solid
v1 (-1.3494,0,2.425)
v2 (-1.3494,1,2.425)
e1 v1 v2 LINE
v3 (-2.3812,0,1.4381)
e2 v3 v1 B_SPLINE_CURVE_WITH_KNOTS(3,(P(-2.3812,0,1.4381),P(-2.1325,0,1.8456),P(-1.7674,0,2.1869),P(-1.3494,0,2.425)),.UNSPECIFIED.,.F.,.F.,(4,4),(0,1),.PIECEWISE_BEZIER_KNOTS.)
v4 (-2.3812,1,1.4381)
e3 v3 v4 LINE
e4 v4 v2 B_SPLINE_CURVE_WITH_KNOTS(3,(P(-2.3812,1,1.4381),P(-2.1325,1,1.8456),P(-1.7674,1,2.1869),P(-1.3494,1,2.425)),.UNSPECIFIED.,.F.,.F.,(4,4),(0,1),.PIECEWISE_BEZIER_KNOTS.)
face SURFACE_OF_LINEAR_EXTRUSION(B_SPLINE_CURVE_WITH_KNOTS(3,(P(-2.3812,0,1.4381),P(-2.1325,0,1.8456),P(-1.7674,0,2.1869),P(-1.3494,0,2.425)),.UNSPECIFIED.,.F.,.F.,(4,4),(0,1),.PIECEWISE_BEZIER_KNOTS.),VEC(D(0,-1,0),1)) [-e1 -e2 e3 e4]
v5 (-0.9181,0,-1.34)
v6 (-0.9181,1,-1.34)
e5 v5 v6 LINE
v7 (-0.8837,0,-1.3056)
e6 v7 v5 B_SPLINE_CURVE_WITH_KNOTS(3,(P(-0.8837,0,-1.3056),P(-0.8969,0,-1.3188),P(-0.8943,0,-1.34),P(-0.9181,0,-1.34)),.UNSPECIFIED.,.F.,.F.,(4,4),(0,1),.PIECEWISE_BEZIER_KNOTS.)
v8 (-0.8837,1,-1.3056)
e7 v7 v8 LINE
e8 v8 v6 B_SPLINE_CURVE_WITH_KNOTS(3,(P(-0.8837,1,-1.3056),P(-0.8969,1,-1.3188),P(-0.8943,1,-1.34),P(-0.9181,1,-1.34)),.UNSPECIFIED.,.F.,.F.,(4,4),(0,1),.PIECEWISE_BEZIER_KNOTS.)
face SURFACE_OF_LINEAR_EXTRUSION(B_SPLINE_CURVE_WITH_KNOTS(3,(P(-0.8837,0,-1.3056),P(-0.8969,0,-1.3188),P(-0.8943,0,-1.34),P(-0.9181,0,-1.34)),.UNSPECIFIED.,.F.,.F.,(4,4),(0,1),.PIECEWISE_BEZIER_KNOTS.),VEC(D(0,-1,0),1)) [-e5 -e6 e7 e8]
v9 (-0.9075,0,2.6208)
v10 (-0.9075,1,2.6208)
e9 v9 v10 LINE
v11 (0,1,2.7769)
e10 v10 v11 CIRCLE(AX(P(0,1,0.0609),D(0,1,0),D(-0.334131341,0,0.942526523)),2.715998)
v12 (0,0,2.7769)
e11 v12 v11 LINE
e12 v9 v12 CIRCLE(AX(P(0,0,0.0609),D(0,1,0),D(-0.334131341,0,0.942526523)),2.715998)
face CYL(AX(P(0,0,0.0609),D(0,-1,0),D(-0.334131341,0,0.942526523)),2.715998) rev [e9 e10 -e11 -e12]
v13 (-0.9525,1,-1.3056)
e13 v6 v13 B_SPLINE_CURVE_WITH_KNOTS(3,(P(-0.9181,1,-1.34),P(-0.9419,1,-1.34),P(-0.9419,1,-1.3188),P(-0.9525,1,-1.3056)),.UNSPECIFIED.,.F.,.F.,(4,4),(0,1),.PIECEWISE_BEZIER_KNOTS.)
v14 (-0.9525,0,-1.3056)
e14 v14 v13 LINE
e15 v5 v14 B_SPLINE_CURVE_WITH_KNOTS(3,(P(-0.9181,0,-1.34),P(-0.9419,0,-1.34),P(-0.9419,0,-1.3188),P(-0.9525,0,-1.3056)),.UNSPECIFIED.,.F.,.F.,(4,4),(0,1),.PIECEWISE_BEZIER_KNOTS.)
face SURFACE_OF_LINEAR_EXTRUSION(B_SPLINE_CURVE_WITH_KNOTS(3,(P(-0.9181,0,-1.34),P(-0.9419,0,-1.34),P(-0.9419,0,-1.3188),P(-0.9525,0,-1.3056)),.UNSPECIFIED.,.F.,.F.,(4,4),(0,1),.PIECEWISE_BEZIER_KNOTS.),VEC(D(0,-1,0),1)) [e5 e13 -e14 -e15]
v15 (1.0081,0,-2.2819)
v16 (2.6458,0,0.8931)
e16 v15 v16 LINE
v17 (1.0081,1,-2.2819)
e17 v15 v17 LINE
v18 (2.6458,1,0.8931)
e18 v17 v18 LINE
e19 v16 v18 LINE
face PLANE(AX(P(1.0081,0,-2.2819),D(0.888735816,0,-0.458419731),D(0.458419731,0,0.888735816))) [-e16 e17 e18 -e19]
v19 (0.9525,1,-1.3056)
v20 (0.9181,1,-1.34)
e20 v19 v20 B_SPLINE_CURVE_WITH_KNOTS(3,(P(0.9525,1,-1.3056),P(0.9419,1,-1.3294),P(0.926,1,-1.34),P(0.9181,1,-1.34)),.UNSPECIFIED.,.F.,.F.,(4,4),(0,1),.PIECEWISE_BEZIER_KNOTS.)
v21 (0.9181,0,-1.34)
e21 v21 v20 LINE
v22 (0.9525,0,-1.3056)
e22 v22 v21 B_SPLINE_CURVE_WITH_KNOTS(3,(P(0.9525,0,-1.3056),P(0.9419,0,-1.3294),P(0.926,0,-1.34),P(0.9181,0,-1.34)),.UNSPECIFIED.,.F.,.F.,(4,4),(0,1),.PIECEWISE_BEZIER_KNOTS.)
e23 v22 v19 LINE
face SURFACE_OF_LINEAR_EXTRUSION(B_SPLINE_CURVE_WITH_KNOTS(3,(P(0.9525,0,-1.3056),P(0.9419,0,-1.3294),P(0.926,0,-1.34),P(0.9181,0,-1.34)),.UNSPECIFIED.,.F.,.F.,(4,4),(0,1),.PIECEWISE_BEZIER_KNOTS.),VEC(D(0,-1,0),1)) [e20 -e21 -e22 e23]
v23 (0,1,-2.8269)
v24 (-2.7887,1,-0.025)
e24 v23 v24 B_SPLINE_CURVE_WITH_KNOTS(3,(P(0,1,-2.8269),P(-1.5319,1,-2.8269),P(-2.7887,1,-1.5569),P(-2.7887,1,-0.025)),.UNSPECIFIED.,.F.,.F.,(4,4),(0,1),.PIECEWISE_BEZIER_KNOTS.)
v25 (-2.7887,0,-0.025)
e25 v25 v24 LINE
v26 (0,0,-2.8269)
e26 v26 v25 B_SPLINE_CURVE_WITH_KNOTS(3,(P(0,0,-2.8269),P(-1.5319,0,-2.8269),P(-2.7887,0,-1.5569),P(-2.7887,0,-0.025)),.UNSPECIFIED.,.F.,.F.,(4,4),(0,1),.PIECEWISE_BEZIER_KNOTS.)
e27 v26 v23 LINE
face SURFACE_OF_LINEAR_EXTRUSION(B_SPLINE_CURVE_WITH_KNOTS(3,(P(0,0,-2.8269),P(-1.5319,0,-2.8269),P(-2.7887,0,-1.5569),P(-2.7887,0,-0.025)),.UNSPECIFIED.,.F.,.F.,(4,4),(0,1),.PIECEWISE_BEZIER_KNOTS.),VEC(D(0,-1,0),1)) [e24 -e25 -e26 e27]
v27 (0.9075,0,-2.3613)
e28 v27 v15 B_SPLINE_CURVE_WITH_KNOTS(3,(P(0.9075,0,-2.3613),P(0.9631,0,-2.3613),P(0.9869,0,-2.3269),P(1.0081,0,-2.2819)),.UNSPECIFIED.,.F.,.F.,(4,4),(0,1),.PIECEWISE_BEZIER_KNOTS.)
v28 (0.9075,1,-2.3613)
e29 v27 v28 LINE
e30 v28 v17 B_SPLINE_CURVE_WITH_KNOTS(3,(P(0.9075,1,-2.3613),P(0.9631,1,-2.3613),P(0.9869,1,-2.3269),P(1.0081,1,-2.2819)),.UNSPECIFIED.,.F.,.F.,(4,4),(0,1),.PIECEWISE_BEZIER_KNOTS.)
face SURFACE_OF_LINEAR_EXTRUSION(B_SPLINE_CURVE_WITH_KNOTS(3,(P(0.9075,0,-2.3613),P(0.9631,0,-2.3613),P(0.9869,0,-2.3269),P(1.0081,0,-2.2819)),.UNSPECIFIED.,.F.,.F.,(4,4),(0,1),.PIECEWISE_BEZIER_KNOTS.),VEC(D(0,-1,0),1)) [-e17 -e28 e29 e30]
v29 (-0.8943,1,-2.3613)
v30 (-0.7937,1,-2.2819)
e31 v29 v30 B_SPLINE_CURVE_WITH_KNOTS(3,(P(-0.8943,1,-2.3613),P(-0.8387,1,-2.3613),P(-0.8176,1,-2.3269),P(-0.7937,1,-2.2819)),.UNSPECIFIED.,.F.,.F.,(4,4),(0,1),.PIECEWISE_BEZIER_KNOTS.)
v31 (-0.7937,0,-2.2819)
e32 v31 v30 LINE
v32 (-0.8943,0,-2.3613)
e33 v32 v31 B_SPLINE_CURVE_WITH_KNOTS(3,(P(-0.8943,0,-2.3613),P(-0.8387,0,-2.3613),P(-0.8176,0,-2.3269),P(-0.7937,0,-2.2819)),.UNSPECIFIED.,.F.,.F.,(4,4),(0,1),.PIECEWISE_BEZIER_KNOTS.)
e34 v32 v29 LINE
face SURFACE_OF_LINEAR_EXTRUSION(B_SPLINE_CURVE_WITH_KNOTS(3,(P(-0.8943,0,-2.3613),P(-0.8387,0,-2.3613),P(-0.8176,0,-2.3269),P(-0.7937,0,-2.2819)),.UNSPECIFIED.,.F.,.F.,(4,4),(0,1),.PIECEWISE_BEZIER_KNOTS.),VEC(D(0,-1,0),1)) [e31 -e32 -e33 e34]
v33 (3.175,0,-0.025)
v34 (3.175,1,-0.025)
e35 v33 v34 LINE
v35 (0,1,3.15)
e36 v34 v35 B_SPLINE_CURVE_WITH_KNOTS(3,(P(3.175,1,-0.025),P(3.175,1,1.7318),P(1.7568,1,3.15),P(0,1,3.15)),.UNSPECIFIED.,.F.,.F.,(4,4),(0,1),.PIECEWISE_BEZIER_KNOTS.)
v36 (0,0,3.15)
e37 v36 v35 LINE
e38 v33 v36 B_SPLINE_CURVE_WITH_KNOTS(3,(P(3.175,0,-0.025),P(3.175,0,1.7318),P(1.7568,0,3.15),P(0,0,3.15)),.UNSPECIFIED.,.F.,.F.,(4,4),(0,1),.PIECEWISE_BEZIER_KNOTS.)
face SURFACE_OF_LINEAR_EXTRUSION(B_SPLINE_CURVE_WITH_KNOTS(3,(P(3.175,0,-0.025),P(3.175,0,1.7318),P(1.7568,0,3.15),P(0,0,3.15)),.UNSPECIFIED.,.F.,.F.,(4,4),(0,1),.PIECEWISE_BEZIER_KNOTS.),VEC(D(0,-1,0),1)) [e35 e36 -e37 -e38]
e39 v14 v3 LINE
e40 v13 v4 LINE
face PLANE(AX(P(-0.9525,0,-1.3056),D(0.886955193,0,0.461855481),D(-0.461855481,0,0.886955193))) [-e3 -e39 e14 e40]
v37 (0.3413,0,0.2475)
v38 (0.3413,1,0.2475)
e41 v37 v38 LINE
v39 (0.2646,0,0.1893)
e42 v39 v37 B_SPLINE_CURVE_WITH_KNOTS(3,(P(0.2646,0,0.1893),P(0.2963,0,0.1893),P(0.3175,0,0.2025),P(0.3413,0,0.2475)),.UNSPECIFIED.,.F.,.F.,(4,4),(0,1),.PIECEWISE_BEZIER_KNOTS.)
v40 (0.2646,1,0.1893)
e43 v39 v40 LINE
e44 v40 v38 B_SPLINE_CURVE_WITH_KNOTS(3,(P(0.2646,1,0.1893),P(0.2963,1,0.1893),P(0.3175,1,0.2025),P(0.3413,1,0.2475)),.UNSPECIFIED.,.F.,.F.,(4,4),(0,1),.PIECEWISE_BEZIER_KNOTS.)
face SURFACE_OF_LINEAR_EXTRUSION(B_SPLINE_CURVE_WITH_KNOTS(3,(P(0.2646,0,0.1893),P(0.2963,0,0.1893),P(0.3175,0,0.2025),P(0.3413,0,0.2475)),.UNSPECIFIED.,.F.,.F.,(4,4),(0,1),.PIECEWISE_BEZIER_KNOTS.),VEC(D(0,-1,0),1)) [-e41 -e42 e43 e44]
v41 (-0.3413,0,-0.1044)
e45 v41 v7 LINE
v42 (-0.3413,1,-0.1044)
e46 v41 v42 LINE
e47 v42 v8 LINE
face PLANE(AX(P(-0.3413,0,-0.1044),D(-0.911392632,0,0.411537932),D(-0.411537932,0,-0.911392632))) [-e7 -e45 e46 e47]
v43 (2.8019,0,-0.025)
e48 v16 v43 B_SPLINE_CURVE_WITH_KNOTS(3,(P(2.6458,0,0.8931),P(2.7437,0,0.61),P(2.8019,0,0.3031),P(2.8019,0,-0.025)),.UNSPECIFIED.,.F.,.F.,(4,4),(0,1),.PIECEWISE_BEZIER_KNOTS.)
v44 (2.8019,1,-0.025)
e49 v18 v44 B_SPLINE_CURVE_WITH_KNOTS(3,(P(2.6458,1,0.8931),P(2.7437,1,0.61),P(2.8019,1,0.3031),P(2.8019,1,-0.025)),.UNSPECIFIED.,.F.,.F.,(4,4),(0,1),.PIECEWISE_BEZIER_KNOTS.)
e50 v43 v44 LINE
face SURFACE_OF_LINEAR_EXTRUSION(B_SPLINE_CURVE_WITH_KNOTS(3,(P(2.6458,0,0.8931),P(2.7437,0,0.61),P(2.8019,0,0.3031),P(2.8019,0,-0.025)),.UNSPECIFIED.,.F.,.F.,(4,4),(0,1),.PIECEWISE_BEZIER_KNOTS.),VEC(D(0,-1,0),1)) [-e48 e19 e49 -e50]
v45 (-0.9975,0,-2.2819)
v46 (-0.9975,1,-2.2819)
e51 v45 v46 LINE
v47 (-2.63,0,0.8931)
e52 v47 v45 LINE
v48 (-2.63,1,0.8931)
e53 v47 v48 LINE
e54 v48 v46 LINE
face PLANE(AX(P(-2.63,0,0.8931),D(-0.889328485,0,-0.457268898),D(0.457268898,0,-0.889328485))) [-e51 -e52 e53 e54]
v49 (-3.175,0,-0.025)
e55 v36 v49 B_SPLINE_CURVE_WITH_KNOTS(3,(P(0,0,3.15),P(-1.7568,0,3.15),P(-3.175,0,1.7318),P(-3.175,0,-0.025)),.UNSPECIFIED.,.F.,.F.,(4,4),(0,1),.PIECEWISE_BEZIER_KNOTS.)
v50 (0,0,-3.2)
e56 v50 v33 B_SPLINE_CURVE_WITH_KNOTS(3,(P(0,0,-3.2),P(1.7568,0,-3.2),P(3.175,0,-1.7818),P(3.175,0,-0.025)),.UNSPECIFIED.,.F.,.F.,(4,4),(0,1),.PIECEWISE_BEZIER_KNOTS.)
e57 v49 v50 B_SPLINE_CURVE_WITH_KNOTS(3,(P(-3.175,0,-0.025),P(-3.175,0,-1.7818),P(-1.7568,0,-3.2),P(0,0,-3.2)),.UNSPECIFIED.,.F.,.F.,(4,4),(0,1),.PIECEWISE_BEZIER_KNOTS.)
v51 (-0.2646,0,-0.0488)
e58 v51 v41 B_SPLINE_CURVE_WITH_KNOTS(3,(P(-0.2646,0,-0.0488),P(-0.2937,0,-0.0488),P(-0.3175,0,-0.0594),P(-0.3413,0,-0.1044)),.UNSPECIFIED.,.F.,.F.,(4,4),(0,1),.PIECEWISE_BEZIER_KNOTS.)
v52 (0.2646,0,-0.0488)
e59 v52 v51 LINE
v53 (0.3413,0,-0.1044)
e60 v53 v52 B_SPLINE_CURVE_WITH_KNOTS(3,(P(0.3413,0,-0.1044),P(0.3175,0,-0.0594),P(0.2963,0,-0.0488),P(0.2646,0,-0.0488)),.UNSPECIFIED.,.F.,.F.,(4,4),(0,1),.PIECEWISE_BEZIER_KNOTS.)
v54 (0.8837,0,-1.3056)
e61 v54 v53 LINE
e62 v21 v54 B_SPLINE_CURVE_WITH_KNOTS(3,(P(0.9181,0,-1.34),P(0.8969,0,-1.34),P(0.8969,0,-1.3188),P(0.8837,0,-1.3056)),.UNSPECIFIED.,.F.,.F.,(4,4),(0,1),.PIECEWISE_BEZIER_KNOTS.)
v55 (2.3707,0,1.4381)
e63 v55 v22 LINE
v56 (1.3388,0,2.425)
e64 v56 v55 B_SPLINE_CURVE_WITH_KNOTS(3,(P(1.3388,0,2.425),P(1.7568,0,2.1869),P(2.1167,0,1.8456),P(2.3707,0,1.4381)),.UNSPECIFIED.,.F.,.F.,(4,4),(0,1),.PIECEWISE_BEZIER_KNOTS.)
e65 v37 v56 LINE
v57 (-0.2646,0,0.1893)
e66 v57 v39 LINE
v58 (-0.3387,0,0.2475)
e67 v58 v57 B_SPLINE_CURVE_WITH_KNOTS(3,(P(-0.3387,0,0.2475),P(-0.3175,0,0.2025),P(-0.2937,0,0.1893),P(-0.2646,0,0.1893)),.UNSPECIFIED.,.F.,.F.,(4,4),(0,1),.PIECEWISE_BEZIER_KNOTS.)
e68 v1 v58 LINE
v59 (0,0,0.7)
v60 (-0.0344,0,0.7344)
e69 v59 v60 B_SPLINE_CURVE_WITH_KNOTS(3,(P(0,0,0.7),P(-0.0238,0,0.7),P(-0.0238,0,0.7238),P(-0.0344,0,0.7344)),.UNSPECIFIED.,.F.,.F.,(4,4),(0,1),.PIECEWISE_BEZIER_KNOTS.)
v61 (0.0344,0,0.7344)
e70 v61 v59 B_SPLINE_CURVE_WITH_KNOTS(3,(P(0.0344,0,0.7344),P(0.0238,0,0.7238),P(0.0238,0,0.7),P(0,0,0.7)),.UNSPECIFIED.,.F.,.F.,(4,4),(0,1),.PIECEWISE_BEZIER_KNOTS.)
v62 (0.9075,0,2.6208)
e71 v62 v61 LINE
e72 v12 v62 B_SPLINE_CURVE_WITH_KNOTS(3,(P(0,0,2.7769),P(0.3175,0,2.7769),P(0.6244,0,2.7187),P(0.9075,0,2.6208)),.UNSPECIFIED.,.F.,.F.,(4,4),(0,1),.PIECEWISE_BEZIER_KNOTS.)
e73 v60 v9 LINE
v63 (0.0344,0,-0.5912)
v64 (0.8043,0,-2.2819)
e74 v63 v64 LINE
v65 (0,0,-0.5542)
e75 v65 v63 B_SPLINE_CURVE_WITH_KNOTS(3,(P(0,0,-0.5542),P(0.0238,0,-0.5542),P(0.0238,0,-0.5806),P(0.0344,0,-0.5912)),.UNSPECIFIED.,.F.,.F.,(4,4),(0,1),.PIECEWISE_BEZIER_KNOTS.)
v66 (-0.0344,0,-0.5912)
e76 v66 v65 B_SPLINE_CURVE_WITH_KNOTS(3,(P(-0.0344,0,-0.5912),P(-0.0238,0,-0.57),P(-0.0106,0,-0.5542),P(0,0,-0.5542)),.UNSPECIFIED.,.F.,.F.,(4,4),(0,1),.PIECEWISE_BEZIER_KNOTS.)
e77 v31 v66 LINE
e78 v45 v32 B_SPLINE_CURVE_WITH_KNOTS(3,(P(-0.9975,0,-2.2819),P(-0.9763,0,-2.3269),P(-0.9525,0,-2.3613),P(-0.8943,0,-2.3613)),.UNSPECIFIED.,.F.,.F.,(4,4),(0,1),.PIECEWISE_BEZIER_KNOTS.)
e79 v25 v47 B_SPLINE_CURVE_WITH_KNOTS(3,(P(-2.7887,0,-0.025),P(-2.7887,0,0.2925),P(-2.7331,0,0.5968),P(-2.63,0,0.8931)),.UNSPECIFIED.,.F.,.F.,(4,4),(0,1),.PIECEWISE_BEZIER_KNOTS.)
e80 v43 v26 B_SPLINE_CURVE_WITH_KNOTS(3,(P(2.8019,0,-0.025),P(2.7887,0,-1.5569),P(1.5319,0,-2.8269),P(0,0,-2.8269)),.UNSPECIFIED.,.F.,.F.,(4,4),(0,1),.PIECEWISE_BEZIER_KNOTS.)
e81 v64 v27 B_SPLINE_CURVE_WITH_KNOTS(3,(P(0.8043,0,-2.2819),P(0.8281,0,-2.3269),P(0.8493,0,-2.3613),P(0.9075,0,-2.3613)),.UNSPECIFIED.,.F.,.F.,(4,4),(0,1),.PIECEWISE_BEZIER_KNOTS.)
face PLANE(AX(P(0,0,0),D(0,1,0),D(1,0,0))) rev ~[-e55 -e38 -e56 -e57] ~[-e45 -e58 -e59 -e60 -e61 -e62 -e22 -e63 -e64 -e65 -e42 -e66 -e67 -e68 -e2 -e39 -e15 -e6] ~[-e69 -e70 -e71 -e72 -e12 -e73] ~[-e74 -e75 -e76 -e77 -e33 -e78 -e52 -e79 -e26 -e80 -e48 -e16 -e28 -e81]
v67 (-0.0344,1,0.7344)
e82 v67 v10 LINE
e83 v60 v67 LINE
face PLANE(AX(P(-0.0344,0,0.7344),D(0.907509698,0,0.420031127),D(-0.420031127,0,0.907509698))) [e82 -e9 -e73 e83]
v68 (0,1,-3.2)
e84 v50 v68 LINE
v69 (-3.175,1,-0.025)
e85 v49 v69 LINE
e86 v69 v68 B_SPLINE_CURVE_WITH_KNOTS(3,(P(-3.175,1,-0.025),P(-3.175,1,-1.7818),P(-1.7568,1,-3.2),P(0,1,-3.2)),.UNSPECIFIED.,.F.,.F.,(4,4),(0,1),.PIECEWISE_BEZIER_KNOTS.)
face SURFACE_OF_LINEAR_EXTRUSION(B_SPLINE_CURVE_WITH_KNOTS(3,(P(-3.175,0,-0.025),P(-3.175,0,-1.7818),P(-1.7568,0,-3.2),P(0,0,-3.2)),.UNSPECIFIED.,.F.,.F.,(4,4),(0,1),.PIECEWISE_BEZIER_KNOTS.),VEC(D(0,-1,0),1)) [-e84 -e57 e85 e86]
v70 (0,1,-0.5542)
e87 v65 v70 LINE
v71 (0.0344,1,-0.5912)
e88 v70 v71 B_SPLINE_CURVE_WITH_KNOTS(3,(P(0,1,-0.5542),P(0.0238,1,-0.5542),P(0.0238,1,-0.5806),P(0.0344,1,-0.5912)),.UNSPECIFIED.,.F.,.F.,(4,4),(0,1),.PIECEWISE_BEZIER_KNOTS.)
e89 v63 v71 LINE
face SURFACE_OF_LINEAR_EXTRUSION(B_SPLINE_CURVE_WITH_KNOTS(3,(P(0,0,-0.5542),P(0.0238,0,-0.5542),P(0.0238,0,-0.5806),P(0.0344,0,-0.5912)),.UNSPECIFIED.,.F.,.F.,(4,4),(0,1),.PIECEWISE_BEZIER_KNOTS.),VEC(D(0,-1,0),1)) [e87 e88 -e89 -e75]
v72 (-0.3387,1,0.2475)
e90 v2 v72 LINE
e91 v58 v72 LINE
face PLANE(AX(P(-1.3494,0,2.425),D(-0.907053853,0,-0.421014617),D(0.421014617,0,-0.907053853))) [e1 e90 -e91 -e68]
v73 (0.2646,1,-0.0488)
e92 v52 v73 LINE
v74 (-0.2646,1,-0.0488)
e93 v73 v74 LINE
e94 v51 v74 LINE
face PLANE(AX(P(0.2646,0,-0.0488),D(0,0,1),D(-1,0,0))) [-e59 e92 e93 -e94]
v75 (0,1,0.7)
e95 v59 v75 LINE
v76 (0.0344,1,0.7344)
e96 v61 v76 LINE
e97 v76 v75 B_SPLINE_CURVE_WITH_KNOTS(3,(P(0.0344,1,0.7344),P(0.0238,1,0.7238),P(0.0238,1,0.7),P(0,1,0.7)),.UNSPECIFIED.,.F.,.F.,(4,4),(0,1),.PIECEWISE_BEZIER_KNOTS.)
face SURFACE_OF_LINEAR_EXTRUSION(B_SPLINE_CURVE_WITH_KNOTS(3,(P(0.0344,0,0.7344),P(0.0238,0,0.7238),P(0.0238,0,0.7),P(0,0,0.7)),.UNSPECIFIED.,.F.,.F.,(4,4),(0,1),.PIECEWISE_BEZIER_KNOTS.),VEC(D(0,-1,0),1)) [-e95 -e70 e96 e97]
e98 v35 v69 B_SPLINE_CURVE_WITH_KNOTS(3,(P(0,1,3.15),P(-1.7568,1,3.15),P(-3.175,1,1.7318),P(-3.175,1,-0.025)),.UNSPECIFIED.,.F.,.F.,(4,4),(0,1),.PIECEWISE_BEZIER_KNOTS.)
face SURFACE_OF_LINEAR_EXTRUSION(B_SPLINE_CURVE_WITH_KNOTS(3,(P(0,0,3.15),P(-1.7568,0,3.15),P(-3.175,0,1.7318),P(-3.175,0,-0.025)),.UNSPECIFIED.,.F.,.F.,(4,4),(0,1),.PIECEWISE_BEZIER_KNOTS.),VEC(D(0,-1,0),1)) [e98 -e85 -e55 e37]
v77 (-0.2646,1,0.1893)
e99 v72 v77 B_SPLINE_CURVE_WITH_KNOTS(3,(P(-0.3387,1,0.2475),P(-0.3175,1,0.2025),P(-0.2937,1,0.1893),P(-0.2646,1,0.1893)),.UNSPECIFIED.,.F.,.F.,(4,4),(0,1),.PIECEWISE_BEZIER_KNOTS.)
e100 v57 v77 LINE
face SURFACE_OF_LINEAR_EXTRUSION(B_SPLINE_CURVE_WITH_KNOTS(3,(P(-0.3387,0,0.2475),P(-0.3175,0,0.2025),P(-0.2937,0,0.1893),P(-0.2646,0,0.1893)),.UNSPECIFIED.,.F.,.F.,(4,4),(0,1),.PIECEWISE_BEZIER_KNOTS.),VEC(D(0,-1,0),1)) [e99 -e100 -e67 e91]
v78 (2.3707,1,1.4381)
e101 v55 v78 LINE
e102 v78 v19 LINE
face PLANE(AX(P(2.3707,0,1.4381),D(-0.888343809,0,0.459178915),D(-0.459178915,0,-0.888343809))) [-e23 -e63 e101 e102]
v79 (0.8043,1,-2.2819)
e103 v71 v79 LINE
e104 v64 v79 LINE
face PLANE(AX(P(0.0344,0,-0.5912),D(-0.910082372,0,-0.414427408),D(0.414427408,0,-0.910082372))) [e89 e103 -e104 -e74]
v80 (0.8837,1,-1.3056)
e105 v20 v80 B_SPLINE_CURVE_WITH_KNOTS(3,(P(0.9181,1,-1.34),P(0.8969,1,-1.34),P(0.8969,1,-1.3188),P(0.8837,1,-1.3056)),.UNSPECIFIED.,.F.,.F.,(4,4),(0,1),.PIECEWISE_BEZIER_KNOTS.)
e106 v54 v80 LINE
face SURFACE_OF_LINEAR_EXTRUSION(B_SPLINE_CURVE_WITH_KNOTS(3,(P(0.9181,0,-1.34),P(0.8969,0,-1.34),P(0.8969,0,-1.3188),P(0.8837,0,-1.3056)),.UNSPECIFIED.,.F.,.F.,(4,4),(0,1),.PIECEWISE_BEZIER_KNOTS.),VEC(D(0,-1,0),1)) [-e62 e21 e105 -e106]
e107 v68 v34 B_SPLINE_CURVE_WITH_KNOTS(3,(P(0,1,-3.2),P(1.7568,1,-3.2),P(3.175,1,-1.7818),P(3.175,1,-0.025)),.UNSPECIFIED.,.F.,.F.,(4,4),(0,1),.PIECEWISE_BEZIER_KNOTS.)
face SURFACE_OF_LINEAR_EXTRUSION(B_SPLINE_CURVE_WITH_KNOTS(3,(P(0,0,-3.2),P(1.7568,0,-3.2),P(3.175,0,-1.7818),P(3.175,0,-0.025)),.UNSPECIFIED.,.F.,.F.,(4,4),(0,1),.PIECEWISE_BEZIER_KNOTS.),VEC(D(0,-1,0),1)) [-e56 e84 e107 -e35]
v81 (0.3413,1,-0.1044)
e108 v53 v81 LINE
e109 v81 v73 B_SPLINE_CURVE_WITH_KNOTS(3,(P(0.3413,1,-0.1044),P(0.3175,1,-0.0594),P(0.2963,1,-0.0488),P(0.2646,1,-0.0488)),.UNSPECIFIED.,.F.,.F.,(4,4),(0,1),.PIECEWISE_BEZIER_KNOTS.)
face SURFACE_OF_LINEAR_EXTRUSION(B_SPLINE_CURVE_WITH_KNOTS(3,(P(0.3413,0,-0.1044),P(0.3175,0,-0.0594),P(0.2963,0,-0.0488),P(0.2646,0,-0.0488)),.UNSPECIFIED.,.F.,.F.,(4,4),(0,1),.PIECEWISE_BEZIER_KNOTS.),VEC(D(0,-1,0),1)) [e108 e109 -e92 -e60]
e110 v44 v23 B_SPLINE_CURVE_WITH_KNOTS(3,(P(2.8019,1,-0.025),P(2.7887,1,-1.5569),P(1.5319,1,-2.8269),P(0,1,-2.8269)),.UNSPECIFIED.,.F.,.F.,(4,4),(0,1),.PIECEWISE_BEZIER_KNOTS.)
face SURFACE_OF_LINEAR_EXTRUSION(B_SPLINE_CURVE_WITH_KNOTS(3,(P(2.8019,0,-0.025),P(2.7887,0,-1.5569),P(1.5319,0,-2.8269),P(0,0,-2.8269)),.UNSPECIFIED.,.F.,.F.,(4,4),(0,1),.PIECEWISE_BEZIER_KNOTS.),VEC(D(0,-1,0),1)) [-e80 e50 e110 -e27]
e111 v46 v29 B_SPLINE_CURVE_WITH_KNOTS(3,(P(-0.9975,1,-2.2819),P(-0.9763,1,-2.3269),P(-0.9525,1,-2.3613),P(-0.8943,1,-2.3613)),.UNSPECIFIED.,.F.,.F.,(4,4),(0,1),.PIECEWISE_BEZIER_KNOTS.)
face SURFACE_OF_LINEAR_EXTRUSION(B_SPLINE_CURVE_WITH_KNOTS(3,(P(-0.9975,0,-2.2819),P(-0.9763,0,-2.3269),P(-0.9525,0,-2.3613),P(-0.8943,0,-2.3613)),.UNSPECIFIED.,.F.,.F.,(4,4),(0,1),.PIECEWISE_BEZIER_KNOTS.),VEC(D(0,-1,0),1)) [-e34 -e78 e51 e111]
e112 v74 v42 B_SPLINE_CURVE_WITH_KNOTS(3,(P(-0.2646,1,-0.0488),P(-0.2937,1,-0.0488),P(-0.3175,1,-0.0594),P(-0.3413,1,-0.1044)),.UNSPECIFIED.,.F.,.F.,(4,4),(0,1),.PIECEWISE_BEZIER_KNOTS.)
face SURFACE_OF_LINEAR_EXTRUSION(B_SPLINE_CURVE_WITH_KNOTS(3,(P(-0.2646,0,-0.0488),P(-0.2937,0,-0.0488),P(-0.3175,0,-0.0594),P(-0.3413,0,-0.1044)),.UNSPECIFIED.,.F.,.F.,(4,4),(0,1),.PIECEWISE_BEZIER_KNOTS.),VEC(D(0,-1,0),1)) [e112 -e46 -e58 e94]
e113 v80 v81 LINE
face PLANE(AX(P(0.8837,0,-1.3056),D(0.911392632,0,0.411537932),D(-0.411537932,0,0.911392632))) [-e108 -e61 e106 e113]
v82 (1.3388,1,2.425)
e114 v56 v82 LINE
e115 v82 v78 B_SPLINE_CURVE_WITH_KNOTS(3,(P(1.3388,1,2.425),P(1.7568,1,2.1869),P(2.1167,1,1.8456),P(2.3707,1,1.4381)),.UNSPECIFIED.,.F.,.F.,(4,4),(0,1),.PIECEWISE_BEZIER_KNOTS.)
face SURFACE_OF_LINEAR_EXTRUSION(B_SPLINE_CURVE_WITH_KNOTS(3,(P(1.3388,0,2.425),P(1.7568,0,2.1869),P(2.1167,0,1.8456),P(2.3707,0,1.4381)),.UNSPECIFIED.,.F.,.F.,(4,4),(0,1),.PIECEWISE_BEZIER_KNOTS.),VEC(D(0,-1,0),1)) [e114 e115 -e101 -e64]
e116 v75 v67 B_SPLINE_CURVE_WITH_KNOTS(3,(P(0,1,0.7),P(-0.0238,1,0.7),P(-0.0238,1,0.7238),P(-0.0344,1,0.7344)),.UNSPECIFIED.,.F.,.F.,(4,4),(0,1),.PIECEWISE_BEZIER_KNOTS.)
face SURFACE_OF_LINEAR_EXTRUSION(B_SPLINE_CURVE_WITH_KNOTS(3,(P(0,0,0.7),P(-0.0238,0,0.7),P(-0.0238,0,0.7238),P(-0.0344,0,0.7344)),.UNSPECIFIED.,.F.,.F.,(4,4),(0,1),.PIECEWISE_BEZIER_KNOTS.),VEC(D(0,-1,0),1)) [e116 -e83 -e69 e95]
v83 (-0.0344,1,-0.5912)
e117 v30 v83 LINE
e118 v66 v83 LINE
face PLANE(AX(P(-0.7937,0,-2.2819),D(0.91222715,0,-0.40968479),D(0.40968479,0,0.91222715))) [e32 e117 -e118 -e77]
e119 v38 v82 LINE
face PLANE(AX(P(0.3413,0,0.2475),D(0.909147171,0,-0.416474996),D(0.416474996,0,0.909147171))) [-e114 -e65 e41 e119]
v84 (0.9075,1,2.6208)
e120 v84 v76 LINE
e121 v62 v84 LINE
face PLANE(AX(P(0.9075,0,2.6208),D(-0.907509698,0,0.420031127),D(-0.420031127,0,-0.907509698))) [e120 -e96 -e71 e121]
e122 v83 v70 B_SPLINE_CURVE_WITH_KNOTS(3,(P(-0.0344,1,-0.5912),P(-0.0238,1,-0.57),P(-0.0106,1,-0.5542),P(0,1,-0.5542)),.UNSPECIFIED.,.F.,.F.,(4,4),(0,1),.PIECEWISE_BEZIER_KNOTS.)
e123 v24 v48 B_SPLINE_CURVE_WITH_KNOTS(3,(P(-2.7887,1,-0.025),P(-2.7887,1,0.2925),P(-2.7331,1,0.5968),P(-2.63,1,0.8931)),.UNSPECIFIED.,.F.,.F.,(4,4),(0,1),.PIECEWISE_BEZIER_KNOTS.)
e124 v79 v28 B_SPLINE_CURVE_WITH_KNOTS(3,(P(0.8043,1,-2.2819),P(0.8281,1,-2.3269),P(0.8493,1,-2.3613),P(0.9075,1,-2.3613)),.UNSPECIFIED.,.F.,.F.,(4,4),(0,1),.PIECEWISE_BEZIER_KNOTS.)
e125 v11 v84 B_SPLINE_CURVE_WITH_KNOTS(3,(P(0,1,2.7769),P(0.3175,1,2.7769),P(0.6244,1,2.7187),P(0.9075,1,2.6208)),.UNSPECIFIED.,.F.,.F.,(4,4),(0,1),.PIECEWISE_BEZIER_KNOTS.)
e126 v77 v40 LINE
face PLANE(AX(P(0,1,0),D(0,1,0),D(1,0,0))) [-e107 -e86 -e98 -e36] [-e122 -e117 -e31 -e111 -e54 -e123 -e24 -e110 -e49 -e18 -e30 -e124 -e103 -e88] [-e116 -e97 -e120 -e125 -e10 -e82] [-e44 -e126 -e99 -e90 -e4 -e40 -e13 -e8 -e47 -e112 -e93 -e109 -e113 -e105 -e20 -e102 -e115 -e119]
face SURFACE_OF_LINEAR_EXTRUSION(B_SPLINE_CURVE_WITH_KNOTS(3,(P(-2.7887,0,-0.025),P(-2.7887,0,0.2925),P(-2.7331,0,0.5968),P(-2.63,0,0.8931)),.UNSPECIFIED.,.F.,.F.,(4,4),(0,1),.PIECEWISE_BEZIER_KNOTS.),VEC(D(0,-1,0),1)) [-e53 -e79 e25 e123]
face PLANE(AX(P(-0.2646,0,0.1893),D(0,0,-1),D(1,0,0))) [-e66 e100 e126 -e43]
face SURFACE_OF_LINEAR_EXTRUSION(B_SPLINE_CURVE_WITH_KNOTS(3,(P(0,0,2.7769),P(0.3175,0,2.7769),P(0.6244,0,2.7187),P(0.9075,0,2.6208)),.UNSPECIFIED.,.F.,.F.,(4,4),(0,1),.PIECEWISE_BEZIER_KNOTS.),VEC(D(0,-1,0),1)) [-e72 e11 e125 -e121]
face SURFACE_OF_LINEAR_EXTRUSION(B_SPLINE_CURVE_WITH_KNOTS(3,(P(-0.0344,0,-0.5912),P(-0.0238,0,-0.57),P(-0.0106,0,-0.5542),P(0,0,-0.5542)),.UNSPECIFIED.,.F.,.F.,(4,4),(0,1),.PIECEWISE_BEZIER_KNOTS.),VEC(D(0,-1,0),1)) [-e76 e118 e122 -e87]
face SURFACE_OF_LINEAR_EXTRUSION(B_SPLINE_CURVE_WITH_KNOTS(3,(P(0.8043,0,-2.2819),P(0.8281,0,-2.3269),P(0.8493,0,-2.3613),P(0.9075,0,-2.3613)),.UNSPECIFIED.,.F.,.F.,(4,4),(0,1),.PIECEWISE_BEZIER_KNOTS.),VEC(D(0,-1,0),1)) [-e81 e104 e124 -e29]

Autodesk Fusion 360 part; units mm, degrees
sketch "Sketch1" plane through (0, 0, 0) normal (0, 1, 0) x (1, 0, 0)
  spline S0 degree 3 poles (0, -3.15) (-1.7568, -3.15) (-3.175, -1.7318) (-3.175, 0.025) knots 0 0 0 0 1 1 1 1
  spline S1 degree 3 poles (-3.175, 0.025) (-3.175, 1.7818) (-1.7568, 3.2) (0, 3.2) knots 0 0 0 0 1 1 1 1
  spline S2 degree 3 poles (0, 3.2) (1.7568, 3.2) (3.175, 1.7818) (3.175, 0.025) knots 0 0 0 0 1 1 1 1
  spline S3 degree 3 poles (3.175, 0.025) (3.175, -1.7318) (1.7568, -3.15) (0, -3.15) knots 0 0 0 0 1 1 1 1
  spline S4 degree 3 poles (0, -2.7769) (0.3175, -2.7769) (0.6244, -2.7187) (0.9075, -2.6208) knots 0 0 0 0 1 1 1 1
  line L0 (0.9075, -2.6208) -> (0.0344, -0.7344)
  spline S5 degree 3 poles (0.0344, -0.7344) (0.0238, -0.7238) (0.0238, -0.7) (0, -0.7) knots 0 0 0 0 1 1 1 1
  spline S6 degree 3 poles (0, -0.7) (-0.0238, -0.7) (-0.0238, -0.7238) (-0.0344, -0.7344) knots 0 0 0 0 1 1 1 1
  line L1 (-0.0344, -0.7344) -> (-0.9075, -2.6208)
  line L2 (-1.3494, -2.425) -> (-0.3387, -0.2475)
  spline S7 degree 3 poles (-0.3387, -0.2475) (-0.3175, -0.2025) (-0.2937, -0.1893) (-0.2646, -0.1893) knots 0 0 0 0 1 1 1 1
  line L3 (-0.2646, -0.1893) -> (0.2646, -0.1893)
  spline S8 degree 3 poles (0.2646, -0.1893) (0.2963, -0.1893) (0.3175, -0.2025) (0.3413, -0.2475) knots 0 0 0 0 1 1 1 1
  line L4 (0.3413, -0.2475) -> (1.3388, -2.425)
  spline S9 degree 3 poles (1.3388, -2.425) (1.7568, -2.1869) (2.1167, -1.8456) (2.3707, -1.4381) knots 0 0 0 0 1 1 1 1
  line L5 (2.3707, -1.4381) -> (0.9525, 1.3056)
  spline S10 degree 3 poles (0.9525, 1.3056) (0.9419, 1.3294) (0.926, 1.34) (0.9181, 1.34) knots 0 0 0 0 1 1 1 1
  spline S11 degree 3 poles (0.9181, 1.34) (0.8969, 1.34) (0.8969, 1.3188) (0.8837, 1.3056) knots 0 0 0 0 1 1 1 1
  line L6 (0.8837, 1.3056) -> (0.3413, 0.1044)
  spline S12 degree 3 poles (0.3413, 0.1044) (0.3175, 0.0594) (0.2963, 0.0488) (0.2646, 0.0488) knots 0 0 0 0 1 1 1 1
  line L7 (0.2646, 0.0488) -> (-0.2646, 0.0488)
  spline S13 degree 3 poles (-0.2646, 0.0488) (-0.2937, 0.0488) (-0.3175, 0.0594) (-0.3413, 0.1044) knots 0 0 0 0 1 1 1 1
  line L8 (-0.3413, 0.1044) -> (-0.8837, 1.3056)
  spline S14 degree 3 poles (-0.8837, 1.3056) (-0.8969, 1.3188) (-0.8943, 1.34) (-0.9181, 1.34) knots 0 0 0 0 1 1 1 1
  spline S15 degree 3 poles (-0.9181, 1.34) (-0.9419, 1.34) (-0.9419, 1.3188) (-0.9525, 1.3056) knots 0 0 0 0 1 1 1 1
  line L9 (-0.9525, 1.3056) -> (-2.3812, -1.4381)
  spline S16 degree 3 poles (-2.3812, -1.4381) (-2.1325, -1.8456) (-1.7674, -2.1869) (-1.3494, -2.425) knots 0 0 0 0 1 1 1 1
  line L10 (-2.63, -0.8931) -> (-0.9975, 2.2819)
  spline S17 degree 3 poles (-0.9975, 2.2819) (-0.9763, 2.3269) (-0.9525, 2.3613) (-0.8943, 2.3613) knots 0 0 0 0 1 1 1 1
  spline S18 degree 3 poles (-0.8943, 2.3613) (-0.8387, 2.3613) (-0.8176, 2.3269) (-0.7937, 2.2819) knots 0 0 0 0 1 1 1 1
  line L11 (-0.7937, 2.2819) -> (-0.0344, 0.5912)
  spline S19 degree 3 poles (-0.0344, 0.5912) (-0.0238, 0.57) (-0.0106, 0.5542) (0, 0.5542) knots 0 0 0 0 1 1 1 1
  spline S20 degree 3 poles (0, 0.5542) (0.0238, 0.5542) (0.0238, 0.5806) (0.0344, 0.5912) knots 0 0 0 0 1 1 1 1
  line L12 (0.0344, 0.5912) -> (0.8043, 2.2819)
  spline S21 degree 3 poles (0.8043, 2.2819) (0.8281, 2.3269) (0.8493, 2.3613) (0.9075, 2.3613) knots 0 0 0 0 1 1 1 1
  spline S22 degree 3 poles (0.9075, 2.3613) (0.9631, 2.3613) (0.9869, 2.3269) (1.0081, 2.2819) knots 0 0 0 0 1 1 1 1
  line L13 (1.0081, 2.2819) -> (2.6458, -0.8931)
  spline S23 degree 3 poles (2.6458, -0.8931) (2.7437, -0.61) (2.8019, -0.3031) (2.8019, 0.025) knots 0 0 0 0 1 1 1 1
  spline S24 degree 3 poles (2.8019, 0.025) (2.7887, 1.5569) (1.5319, 2.8269) (0, 2.8269) knots 0 0 0 0 1 1 1 1
  spline S25 degree 3 poles (0, 2.8269) (-1.5319, 2.8269) (-2.7887, 1.5569) (-2.7887, 0.025) knots 0 0 0 0 1 1 1 1
  spline S26 degree 3 poles (-2.7887, 0.025) (-2.7887, -0.2925) (-2.7331, -0.5968) (-2.63, -0.8931) knots 0 0 0 0 1 1 1 1
  arc A0 (-0.9075, -2.6208) -> (0.9075, -2.6208) centre (0, -0.0609) ccw
extrude "Extrude2" add sketch "Sketch1" along normal blind 1
